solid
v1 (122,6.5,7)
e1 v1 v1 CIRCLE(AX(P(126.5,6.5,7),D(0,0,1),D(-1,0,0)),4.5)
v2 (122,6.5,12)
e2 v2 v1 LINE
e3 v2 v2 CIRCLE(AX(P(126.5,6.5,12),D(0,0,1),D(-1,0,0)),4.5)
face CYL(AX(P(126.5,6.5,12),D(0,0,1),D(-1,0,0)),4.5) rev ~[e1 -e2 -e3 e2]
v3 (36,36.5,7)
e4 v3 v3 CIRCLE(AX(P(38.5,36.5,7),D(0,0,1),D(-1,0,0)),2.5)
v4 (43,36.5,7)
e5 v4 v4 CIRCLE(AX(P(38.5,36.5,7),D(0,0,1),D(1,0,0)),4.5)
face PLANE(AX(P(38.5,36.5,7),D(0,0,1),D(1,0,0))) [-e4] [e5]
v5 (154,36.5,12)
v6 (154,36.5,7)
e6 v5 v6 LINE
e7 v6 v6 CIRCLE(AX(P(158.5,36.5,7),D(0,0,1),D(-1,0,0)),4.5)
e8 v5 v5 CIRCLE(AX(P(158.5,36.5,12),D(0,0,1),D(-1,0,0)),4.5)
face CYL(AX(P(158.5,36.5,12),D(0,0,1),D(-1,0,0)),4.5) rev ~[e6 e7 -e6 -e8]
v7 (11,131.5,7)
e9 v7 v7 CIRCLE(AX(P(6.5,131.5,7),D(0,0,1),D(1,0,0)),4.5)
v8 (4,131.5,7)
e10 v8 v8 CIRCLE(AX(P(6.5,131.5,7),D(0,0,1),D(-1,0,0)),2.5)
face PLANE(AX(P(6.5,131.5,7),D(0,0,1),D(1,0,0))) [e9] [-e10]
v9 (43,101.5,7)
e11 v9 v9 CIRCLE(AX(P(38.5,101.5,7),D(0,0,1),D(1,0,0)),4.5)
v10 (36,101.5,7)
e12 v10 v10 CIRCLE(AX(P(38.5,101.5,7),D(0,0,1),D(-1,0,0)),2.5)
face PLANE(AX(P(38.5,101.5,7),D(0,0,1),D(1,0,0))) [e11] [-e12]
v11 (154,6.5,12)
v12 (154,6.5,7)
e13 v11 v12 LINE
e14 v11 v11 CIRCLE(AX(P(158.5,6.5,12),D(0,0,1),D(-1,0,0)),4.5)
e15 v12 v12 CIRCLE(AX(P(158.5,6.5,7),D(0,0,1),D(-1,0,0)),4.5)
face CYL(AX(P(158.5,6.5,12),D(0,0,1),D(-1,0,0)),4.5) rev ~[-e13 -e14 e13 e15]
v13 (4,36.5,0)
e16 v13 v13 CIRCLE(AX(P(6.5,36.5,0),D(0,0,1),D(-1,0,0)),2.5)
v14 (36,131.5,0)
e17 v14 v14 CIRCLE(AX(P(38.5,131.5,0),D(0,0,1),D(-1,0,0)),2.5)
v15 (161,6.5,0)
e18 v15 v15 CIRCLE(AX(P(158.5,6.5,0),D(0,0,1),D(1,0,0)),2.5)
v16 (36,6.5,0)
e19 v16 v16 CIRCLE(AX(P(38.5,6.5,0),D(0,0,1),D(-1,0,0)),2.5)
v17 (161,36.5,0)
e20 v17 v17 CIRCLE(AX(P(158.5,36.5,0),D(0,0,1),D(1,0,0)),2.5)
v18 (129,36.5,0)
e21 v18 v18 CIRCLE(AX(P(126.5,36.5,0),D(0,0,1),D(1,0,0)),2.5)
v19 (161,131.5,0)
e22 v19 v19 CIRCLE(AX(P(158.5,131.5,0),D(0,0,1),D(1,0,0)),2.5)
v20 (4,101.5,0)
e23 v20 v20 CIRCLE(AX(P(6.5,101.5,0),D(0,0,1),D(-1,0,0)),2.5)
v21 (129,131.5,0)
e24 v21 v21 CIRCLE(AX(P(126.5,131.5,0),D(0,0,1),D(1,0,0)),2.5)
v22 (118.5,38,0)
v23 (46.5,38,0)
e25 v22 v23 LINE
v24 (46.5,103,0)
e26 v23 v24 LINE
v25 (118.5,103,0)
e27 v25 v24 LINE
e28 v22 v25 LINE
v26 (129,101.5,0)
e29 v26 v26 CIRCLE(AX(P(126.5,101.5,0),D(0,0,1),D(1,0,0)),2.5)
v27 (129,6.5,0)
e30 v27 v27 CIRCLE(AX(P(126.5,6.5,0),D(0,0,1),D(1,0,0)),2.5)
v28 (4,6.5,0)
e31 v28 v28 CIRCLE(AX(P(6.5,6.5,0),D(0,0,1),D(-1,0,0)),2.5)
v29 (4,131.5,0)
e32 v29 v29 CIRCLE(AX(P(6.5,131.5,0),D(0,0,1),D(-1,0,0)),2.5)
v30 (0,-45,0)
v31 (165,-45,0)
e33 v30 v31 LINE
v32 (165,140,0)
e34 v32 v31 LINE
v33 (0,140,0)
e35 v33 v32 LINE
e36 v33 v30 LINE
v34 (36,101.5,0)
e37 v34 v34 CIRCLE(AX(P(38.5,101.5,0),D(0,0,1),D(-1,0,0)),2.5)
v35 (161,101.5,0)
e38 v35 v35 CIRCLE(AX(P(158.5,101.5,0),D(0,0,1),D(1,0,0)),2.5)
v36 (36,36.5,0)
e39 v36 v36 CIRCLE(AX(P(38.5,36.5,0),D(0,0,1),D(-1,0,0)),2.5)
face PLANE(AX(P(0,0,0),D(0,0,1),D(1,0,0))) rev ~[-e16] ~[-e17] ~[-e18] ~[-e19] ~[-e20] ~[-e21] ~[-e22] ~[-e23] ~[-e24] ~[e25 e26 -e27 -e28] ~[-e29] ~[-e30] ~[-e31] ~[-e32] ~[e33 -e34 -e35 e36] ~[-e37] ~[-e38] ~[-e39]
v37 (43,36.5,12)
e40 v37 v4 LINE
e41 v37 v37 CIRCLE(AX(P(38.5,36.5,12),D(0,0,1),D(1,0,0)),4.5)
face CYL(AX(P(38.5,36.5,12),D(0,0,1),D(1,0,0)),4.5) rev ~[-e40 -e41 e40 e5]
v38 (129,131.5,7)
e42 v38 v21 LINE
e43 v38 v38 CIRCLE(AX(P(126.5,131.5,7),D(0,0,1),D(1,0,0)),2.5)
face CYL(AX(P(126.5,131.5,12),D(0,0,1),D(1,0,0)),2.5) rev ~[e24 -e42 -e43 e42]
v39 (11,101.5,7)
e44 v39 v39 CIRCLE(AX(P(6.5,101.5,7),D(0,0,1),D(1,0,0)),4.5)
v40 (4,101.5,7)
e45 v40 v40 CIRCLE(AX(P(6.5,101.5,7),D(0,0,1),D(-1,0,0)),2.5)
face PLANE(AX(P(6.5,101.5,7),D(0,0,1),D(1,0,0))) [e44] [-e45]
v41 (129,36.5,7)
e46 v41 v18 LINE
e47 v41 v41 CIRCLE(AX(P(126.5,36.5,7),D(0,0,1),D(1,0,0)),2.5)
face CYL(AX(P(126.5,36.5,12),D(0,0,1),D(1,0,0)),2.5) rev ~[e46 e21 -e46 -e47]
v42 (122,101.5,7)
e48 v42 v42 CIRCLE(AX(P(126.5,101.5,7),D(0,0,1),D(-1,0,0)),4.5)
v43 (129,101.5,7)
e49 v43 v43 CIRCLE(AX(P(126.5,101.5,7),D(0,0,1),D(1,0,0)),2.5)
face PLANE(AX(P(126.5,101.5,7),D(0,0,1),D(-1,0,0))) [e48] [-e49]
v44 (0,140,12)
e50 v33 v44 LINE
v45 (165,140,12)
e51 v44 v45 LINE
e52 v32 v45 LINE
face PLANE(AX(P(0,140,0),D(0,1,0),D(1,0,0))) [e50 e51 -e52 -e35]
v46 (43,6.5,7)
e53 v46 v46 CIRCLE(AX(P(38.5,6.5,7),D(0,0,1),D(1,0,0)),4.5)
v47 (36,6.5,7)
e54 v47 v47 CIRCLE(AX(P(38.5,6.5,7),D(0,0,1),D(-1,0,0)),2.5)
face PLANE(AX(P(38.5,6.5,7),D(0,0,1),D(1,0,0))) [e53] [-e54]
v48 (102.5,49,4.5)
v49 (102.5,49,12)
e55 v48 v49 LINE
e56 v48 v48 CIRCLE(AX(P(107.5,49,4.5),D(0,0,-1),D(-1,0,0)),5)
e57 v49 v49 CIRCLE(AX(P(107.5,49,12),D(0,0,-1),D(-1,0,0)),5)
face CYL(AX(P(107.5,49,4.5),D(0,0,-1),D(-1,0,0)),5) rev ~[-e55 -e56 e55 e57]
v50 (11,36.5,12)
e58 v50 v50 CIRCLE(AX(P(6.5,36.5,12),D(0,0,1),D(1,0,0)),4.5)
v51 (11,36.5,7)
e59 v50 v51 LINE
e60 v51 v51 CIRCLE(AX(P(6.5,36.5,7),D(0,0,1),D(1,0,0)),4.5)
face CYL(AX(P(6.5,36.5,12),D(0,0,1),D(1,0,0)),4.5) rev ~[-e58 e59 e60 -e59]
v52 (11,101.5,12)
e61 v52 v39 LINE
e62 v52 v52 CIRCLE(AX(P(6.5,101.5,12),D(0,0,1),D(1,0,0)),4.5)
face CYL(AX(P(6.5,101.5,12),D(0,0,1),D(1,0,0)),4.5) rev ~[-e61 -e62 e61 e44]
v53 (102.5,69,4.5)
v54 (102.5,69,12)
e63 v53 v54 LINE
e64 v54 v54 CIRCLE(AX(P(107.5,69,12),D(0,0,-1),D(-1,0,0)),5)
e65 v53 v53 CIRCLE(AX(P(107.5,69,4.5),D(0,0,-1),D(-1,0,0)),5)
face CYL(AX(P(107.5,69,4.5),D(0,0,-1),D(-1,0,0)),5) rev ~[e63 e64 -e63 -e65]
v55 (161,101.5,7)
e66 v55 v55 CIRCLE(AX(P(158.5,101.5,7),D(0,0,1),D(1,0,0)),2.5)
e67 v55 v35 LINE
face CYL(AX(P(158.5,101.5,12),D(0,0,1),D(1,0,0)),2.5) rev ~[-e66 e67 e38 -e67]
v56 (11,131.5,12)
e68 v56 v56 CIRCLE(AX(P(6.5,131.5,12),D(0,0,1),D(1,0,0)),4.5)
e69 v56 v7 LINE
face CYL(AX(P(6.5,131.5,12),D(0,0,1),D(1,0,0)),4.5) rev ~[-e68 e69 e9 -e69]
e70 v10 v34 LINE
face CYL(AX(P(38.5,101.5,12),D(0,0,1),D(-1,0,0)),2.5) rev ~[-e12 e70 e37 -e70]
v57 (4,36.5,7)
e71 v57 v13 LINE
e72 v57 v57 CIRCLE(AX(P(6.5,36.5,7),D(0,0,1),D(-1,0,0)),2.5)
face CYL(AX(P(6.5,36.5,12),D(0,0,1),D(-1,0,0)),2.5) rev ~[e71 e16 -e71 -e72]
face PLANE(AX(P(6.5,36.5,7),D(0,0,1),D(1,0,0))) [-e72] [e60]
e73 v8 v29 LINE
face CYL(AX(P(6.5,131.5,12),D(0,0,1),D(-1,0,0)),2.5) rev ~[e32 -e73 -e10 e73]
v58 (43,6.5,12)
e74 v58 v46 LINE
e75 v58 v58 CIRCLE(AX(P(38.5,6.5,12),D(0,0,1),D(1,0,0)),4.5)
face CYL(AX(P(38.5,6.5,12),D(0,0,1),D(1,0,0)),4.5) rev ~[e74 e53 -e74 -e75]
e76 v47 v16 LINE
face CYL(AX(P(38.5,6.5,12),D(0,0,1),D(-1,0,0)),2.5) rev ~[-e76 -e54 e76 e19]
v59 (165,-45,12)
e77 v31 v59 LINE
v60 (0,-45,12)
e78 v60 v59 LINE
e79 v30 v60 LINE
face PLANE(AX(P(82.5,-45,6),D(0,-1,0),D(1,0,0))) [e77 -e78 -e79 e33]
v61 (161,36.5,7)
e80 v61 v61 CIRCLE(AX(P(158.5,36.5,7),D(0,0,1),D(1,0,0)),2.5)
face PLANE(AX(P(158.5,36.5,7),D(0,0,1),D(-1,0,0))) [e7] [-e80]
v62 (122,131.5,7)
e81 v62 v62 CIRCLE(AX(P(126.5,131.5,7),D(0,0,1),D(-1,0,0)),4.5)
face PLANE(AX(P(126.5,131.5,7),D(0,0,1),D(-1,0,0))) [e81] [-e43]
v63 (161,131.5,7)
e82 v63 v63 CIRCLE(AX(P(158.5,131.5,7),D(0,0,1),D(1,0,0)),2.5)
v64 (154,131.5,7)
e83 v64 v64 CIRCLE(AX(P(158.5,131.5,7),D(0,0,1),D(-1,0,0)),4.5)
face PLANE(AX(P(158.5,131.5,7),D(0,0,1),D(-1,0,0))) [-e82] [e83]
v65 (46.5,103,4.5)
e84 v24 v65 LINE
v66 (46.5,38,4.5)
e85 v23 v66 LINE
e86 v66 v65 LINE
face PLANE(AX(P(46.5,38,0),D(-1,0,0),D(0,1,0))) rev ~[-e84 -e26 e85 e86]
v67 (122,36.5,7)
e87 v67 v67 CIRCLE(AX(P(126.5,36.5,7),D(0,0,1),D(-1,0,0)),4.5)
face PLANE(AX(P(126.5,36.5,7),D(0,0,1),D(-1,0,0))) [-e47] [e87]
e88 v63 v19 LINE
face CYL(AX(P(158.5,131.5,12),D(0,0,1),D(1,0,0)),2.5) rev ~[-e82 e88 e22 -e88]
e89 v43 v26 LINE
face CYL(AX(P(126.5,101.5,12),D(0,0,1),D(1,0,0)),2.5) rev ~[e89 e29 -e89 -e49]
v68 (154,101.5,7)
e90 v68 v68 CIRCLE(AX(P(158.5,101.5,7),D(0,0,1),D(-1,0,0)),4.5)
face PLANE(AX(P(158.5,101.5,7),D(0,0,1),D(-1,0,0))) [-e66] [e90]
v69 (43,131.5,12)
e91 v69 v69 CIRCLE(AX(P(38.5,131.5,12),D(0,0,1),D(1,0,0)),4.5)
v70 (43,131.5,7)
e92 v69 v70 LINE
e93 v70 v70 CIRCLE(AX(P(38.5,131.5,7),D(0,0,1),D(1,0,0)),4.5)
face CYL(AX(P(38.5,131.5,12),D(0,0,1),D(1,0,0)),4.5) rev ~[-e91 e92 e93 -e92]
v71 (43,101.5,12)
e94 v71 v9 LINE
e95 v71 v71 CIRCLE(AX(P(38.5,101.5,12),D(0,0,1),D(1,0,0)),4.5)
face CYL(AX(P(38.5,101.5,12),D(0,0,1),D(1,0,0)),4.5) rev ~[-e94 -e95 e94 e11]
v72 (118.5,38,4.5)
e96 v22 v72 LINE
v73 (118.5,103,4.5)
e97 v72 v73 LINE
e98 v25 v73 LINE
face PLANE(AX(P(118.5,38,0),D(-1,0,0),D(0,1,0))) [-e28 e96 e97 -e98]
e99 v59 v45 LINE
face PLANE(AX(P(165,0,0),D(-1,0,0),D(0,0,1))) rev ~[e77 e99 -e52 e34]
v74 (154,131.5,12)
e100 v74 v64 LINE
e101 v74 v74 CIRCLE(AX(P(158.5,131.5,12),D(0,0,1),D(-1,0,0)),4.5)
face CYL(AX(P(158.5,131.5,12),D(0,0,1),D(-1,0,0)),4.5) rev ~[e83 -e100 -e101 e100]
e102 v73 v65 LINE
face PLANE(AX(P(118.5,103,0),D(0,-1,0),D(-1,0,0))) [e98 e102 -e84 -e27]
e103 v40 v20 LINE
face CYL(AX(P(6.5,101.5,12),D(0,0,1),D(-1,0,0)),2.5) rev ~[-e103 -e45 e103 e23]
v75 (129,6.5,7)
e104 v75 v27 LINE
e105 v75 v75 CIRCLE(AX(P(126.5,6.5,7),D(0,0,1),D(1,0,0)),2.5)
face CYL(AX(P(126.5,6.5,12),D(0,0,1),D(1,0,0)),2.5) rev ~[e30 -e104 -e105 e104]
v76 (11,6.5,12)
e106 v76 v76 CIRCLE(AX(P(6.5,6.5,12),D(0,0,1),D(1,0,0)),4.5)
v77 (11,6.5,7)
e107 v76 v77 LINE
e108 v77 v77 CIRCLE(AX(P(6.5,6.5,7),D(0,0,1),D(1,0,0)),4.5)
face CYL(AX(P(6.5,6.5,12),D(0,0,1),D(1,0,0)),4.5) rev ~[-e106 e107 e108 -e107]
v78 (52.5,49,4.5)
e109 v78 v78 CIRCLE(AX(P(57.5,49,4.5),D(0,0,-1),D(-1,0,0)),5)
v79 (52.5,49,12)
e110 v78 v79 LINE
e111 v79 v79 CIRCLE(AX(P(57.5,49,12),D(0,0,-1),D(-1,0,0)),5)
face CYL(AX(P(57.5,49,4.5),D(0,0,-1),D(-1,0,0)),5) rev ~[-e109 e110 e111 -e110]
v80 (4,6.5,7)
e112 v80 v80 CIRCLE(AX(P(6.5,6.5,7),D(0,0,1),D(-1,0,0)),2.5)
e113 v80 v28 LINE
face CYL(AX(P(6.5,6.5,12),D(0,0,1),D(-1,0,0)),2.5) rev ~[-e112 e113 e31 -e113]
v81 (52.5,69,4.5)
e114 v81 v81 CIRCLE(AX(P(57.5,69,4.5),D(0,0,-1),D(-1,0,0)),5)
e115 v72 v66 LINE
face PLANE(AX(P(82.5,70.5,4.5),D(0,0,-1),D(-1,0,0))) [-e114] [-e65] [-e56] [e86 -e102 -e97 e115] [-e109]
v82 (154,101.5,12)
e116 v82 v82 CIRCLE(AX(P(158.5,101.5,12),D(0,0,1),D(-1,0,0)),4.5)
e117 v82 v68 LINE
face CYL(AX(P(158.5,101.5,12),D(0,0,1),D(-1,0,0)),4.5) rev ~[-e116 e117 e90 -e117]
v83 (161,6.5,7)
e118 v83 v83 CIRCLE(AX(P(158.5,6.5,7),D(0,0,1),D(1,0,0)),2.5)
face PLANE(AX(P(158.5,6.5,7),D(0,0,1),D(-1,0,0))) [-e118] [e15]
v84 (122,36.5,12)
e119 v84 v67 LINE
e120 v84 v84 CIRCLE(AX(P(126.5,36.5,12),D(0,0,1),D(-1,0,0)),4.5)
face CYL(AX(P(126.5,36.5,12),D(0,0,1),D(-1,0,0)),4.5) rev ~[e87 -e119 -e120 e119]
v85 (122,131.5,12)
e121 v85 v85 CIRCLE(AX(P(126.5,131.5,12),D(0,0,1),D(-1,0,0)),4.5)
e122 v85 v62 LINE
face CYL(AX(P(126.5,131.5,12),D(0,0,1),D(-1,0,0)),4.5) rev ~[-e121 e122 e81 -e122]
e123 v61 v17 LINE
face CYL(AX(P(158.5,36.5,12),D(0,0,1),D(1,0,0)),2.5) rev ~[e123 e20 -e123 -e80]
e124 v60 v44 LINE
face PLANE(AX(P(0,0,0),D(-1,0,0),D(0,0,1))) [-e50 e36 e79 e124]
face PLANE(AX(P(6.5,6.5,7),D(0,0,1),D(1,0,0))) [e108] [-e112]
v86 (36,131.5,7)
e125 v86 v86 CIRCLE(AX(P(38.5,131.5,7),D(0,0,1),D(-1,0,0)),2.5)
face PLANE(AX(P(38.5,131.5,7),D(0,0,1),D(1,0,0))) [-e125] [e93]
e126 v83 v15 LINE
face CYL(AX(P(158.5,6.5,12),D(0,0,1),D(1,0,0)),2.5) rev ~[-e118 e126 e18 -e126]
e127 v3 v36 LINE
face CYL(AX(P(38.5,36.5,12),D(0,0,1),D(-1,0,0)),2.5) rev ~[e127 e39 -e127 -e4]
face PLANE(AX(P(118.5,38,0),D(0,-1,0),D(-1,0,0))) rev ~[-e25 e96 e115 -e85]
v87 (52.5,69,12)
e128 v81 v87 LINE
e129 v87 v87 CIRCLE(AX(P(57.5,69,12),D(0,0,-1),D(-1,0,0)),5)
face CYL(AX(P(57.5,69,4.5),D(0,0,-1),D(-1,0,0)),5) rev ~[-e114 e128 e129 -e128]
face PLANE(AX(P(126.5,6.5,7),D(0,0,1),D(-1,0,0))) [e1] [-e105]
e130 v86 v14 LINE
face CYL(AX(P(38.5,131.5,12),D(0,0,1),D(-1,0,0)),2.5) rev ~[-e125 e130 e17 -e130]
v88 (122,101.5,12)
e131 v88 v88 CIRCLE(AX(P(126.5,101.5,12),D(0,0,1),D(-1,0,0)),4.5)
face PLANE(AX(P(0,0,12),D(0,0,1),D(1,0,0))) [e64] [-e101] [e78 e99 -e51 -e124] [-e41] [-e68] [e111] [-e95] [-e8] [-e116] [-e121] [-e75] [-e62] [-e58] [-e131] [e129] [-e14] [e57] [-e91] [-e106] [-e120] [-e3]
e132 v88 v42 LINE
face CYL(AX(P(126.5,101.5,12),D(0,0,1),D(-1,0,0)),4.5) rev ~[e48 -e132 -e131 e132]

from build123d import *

# Parameters (mm, degrees)
ESQUISSE1_W             = 165
ESQUISSE1_H             = 140
BOSS_EXTRU_1_DEPTH      = 12
ESQUISSE2_W             = 72
ESQUISSE2_H             = 65
ENL_V_MAT_EXTRU_1_DEPTH = 4.5
ENL_V_MAT_EXTRU_2_REACH = 218.723
ESQUISSE3_R             = 2.5
ESQUISSE4_R             = 4.5
ENL_V_MAT_EXTRU_3_DEPTH = 5
ESQUISSE5_W             = 165
ESQUISSE5_H             = 12
BOSS_EXTRU_2_DEPTH      = 45
ENL_V_MAT_EXTRU_4_REACH = 218.521
ESQUISSE6_R             = 5


with BuildPart() as part:
    # Esquisse1 → Boss.-Extru.1 (new body)
    with BuildSketch(Plane.XY):
        with Locations((82.5, 70)):
            Rectangle(ESQUISSE1_W, ESQUISSE1_H)
    extrude(amount=BOSS_EXTRU_1_DEPTH)

    # Esquisse2 → Enlèv. mat.-Extru.1 (cut)
    with BuildSketch(Plane(origin=(0, 0, 0), x_dir=(-1, 0, 0), z_dir=(0, 0, -1))):
        with Locations((-82.5, 70.5)):
            Rectangle(ESQUISSE2_W, ESQUISSE2_H)
    extrude(amount=-ENL_V_MAT_EXTRU_1_DEPTH, mode=Mode.SUBTRACT)

    # Esquisse3 → Enlèv. mat.-Extru.2 (cut, up to next)
    with BuildSketch(Plane.XY.offset(12), mode=Mode.PRIVATE) as enl_v_mat_extru_2_sk1:
        with Locations((158.5, 6.5)):
            Circle(ESQUISSE3_R)
    enl_v_mat_extru_2_tool1 = extrude(enl_v_mat_extru_2_sk1.sketch, amount=-ENL_V_MAT_EXTRU_2_REACH, mode=Mode.PRIVATE) & part.part
    # Esquisse3 → Enlèv. mat.-Extru.2 (cut, up to next)
    with BuildSketch(Plane.XY.offset(12), mode=Mode.PRIVATE) as enl_v_mat_extru_2_sk2:
        with Locations((158.5, 131.5)):
            Circle(ESQUISSE3_R)
    enl_v_mat_extru_2_tool2 = extrude(enl_v_mat_extru_2_sk2.sketch, amount=-ENL_V_MAT_EXTRU_2_REACH, mode=Mode.PRIVATE) & part.part
    # Esquisse3 → Enlèv. mat.-Extru.2 (cut, up to next)
    with BuildSketch(Plane.XY.offset(12), mode=Mode.PRIVATE) as enl_v_mat_extru_2_sk3:
        with Locations((126.5, 6.5)):
            Circle(ESQUISSE3_R)
    enl_v_mat_extru_2_tool3 = extrude(enl_v_mat_extru_2_sk3.sketch, amount=-ENL_V_MAT_EXTRU_2_REACH, mode=Mode.PRIVATE) & part.part
    # Esquisse3 → Enlèv. mat.-Extru.2 (cut, up to next)
    with BuildSketch(Plane.XY.offset(12), mode=Mode.PRIVATE) as enl_v_mat_extru_2_sk4:
        with Locations((126.5, 36.5)):
            Circle(ESQUISSE3_R)
    enl_v_mat_extru_2_tool4 = extrude(enl_v_mat_extru_2_sk4.sketch, amount=-ENL_V_MAT_EXTRU_2_REACH, mode=Mode.PRIVATE) & part.part
    # Esquisse3 → Enlèv. mat.-Extru.2 (cut, up to next)
    with BuildSketch(Plane.XY.offset(12), mode=Mode.PRIVATE) as enl_v_mat_extru_2_sk5:
        with Locations((158.5, 36.5)):
            Circle(ESQUISSE3_R)
    enl_v_mat_extru_2_tool5 = extrude(enl_v_mat_extru_2_sk5.sketch, amount=-ENL_V_MAT_EXTRU_2_REACH, mode=Mode.PRIVATE) & part.part
    # Esquisse3 → Enlèv. mat.-Extru.2 (cut, up to next)
    with BuildSketch(Plane.XY.offset(12), mode=Mode.PRIVATE) as enl_v_mat_extru_2_sk6:
        with Locations((126.5, 131.5)):
            Circle(ESQUISSE3_R)
    enl_v_mat_extru_2_tool6 = extrude(enl_v_mat_extru_2_sk6.sketch, amount=-ENL_V_MAT_EXTRU_2_REACH, mode=Mode.PRIVATE) & part.part
    # Esquisse3 → Enlèv. mat.-Extru.2 (cut, up to next)
    with BuildSketch(Plane.XY.offset(12), mode=Mode.PRIVATE) as enl_v_mat_extru_2_sk7:
        with Locations((126.5, 101.5)):
            Circle(ESQUISSE3_R)
    enl_v_mat_extru_2_tool7 = extrude(enl_v_mat_extru_2_sk7.sketch, amount=-ENL_V_MAT_EXTRU_2_REACH, mode=Mode.PRIVATE) & part.part
    # Esquisse3 → Enlèv. mat.-Extru.2 (cut, up to next)
    with BuildSketch(Plane.XY.offset(12), mode=Mode.PRIVATE) as enl_v_mat_extru_2_sk8:
        with Locations((158.5, 101.5)):
            Circle(ESQUISSE3_R)
    enl_v_mat_extru_2_tool8 = extrude(enl_v_mat_extru_2_sk8.sketch, amount=-ENL_V_MAT_EXTRU_2_REACH, mode=Mode.PRIVATE) & part.part
    # Esquisse3 → Enlèv. mat.-Extru.2 (cut, up to next)
    with BuildSketch(Plane.XY.offset(12), mode=Mode.PRIVATE) as enl_v_mat_extru_2_sk9:
        with Locations(Location((6.5, 6.5, 0), (0, 0, 180))):
            Circle(ESQUISSE3_R)
    enl_v_mat_extru_2_tool9 = extrude(enl_v_mat_extru_2_sk9.sketch, amount=-ENL_V_MAT_EXTRU_2_REACH, mode=Mode.PRIVATE) & part.part
    # Esquisse3 → Enlèv. mat.-Extru.2 (cut, up to next)
    with BuildSketch(Plane.XY.offset(12), mode=Mode.PRIVATE) as enl_v_mat_extru_2_sk10:
        with Locations(Location((6.5, 36.5, 0), (0, 0, 180))):
            Circle(ESQUISSE3_R)
    enl_v_mat_extru_2_tool10 = extrude(enl_v_mat_extru_2_sk10.sketch, amount=-ENL_V_MAT_EXTRU_2_REACH, mode=Mode.PRIVATE) & part.part
    # Esquisse3 → Enlèv. mat.-Extru.2 (cut, up to next)
    with BuildSketch(Plane.XY.offset(12), mode=Mode.PRIVATE) as enl_v_mat_extru_2_sk11:
        with Locations(Location((38.5, 6.5, 0), (0, 0, 180))):
            Circle(ESQUISSE3_R)
    enl_v_mat_extru_2_tool11 = extrude(enl_v_mat_extru_2_sk11.sketch, amount=-ENL_V_MAT_EXTRU_2_REACH, mode=Mode.PRIVATE) & part.part
    # Esquisse3 → Enlèv. mat.-Extru.2 (cut, up to next)
    with BuildSketch(Plane.XY.offset(12), mode=Mode.PRIVATE) as enl_v_mat_extru_2_sk12:
        with Locations(Location((38.5, 36.5, 0), (0, 0, 180))):
            Circle(ESQUISSE3_R)
    enl_v_mat_extru_2_tool12 = extrude(enl_v_mat_extru_2_sk12.sketch, amount=-ENL_V_MAT_EXTRU_2_REACH, mode=Mode.PRIVATE) & part.part
    # Esquisse3 → Enlèv. mat.-Extru.2 (cut, up to next)
    with BuildSketch(Plane.XY.offset(12), mode=Mode.PRIVATE) as enl_v_mat_extru_2_sk13:
        with Locations(Location((6.5, 101.5, 0), (0, 0, 180))):
            Circle(ESQUISSE3_R)
    enl_v_mat_extru_2_tool13 = extrude(enl_v_mat_extru_2_sk13.sketch, amount=-ENL_V_MAT_EXTRU_2_REACH, mode=Mode.PRIVATE) & part.part
    # Esquisse3 → Enlèv. mat.-Extru.2 (cut, up to next)
    with BuildSketch(Plane.XY.offset(12), mode=Mode.PRIVATE) as enl_v_mat_extru_2_sk14:
        with Locations(Location((38.5, 101.5, 0), (0, 0, 180))):
            Circle(ESQUISSE3_R)
    enl_v_mat_extru_2_tool14 = extrude(enl_v_mat_extru_2_sk14.sketch, amount=-ENL_V_MAT_EXTRU_2_REACH, mode=Mode.PRIVATE) & part.part
    # Esquisse3 → Enlèv. mat.-Extru.2 (cut, up to next)
    with BuildSketch(Plane.XY.offset(12), mode=Mode.PRIVATE) as enl_v_mat_extru_2_sk15:
        with Locations(Location((38.5, 131.5, 0), (0, 0, 180))):
            Circle(ESQUISSE3_R)
    enl_v_mat_extru_2_tool15 = extrude(enl_v_mat_extru_2_sk15.sketch, amount=-ENL_V_MAT_EXTRU_2_REACH, mode=Mode.PRIVATE) & part.part
    # Esquisse3 → Enlèv. mat.-Extru.2 (cut, up to next)
    with BuildSketch(Plane.XY.offset(12), mode=Mode.PRIVATE) as enl_v_mat_extru_2_sk16:
        with Locations(Location((6.5, 131.5, 0), (0, 0, 180))):
            Circle(ESQUISSE3_R)
    enl_v_mat_extru_2_tool16 = extrude(enl_v_mat_extru_2_sk16.sketch, amount=-ENL_V_MAT_EXTRU_2_REACH, mode=Mode.PRIVATE) & part.part
    add(enl_v_mat_extru_2_tool1.solids().sort_by_distance((158.5, 6.5, 12))[0], mode=Mode.SUBTRACT)
    add(enl_v_mat_extru_2_tool2.solids().sort_by_distance((158.5, 131.5, 12))[0], mode=Mode.SUBTRACT)
    add(enl_v_mat_extru_2_tool3.solids().sort_by_distance((126.5, 6.5, 12))[0], mode=Mode.SUBTRACT)
    add(enl_v_mat_extru_2_tool4.solids().sort_by_distance((126.5, 36.5, 12))[0], mode=Mode.SUBTRACT)
    add(enl_v_mat_extru_2_tool5.solids().sort_by_distance((158.5, 36.5, 12))[0], mode=Mode.SUBTRACT)
    add(enl_v_mat_extru_2_tool6.solids().sort_by_distance((126.5, 131.5, 12))[0], mode=Mode.SUBTRACT)
    add(enl_v_mat_extru_2_tool7.solids().sort_by_distance((126.5, 101.5, 12))[0], mode=Mode.SUBTRACT)
    add(enl_v_mat_extru_2_tool8.solids().sort_by_distance((158.5, 101.5, 12))[0], mode=Mode.SUBTRACT)
    add(enl_v_mat_extru_2_tool9.solids().sort_by_distance((6.5, 6.5, 12))[0], mode=Mode.SUBTRACT)
    add(enl_v_mat_extru_2_tool10.solids().sort_by_distance((6.5, 36.5, 12))[0], mode=Mode.SUBTRACT)
    add(enl_v_mat_extru_2_tool11.solids().sort_by_distance((38.5, 6.5, 12))[0], mode=Mode.SUBTRACT)
    add(enl_v_mat_extru_2_tool12.solids().sort_by_distance((38.5, 36.5, 12))[0], mode=Mode.SUBTRACT)
    add(enl_v_mat_extru_2_tool13.solids().sort_by_distance((6.5, 101.5, 12))[0], mode=Mode.SUBTRACT)
    add(enl_v_mat_extru_2_tool14.solids().sort_by_distance((38.5, 101.5, 12))[0], mode=Mode.SUBTRACT)
    add(enl_v_mat_extru_2_tool15.solids().sort_by_distance((38.5, 131.5, 12))[0], mode=Mode.SUBTRACT)
    add(enl_v_mat_extru_2_tool16.solids().sort_by_distance((6.5, 131.5, 12))[0], mode=Mode.SUBTRACT)

    # Esquisse4 → Enlèv. mat.-Extru.3 (cut)
    with BuildSketch(Plane.XY.offset(12)):
        with Locations((6.5, 131.5)):
            Circle(ESQUISSE4_R)
        with Locations((6.5, 101.5)):
            Circle(ESQUISSE4_R)
        with Locations((6.5, 36.5)):
            Circle(ESQUISSE4_R)
        with Locations((6.5, 6.5)):
            Circle(ESQUISSE4_R)
        with Locations((38.5, 6.5)):
            Circle(ESQUISSE4_R)
        with Locations((38.5, 36.5)):
            Circle(ESQUISSE4_R)
        with Locations((38.5, 101.5)):
            Circle(ESQUISSE4_R)
        with Locations((38.5, 131.5)):
            Circle(ESQUISSE4_R)
        with Locations(Location((158.5, 101.5, 0), (0, 0, 180))):
            Circle(ESQUISSE4_R)
        with Locations(Location((158.5, 131.5, 0), (0, 0, 180))):
            Circle(ESQUISSE4_R)
        with Locations(Location((126.5, 131.5, 0), (0, 0, 180))):
            Circle(ESQUISSE4_R)
        with Locations(Location((126.5, 101.5, 0), (0, 0, 180))):
            Circle(ESQUISSE4_R)
        with Locations(Location((126.5, 6.5, 0), (0, 0, 180))):
            Circle(ESQUISSE4_R)
        with Locations(Location((158.5, 6.5, 0), (0, 0, 180))):
            Circle(ESQUISSE4_R)
        with Locations(Location((158.5, 36.5, 0), (0, 0, 180))):
            Circle(ESQUISSE4_R)
        with Locations(Location((126.5, 36.5, 0), (0, 0, 180))):
            Circle(ESQUISSE4_R)
    extrude(amount=-ENL_V_MAT_EXTRU_3_DEPTH, mode=Mode.SUBTRACT)

    # Esquisse5 → Boss.-Extru.2 (add)
    with BuildSketch(Plane.XZ):
        with Locations((82.5, 6)):
            Rectangle(ESQUISSE5_W, ESQUISSE5_H)
    extrude(amount=BOSS_EXTRU_2_DEPTH)

    # Esquisse6 → Enlèv. mat.-Extru.4 (cut, up to next)
    with BuildSketch(Plane(origin=(0, 0, 4.5), x_dir=(-1, 0, 0), z_dir=(0, 0, -1)), mode=Mode.PRIVATE) as enl_v_mat_extru_4_sk1:
        with Locations((-57.5, 49)):
            Circle(ESQUISSE6_R)
    enl_v_mat_extru_4_tool1 = extrude(enl_v_mat_extru_4_sk1.sketch, amount=-ENL_V_MAT_EXTRU_4_REACH, mode=Mode.PRIVATE) & part.part
    # Esquisse6 → Enlèv. mat.-Extru.4 (cut, up to next)
    with BuildSketch(Plane(origin=(0, 0, 4.5), x_dir=(-1, 0, 0), z_dir=(0, 0, -1)), mode=Mode.PRIVATE) as enl_v_mat_extru_4_sk2:
        with Locations((-57.5, 69)):
            Circle(ESQUISSE6_R)
    enl_v_mat_extru_4_tool2 = extrude(enl_v_mat_extru_4_sk2.sketch, amount=-ENL_V_MAT_EXTRU_4_REACH, mode=Mode.PRIVATE) & part.part
    # Esquisse6 → Enlèv. mat.-Extru.4 (cut, up to next)
    with BuildSketch(Plane(origin=(0, 0, 4.5), x_dir=(-1, 0, 0), z_dir=(0, 0, -1)), mode=Mode.PRIVATE) as enl_v_mat_extru_4_sk3:
        with Locations((-107.5, 49)):
            Circle(ESQUISSE6_R)
    enl_v_mat_extru_4_tool3 = extrude(enl_v_mat_extru_4_sk3.sketch, amount=-ENL_V_MAT_EXTRU_4_REACH, mode=Mode.PRIVATE) & part.part
    # Esquisse6 → Enlèv. mat.-Extru.4 (cut, up to next)
    with BuildSketch(Plane(origin=(0, 0, 4.5), x_dir=(-1, 0, 0), z_dir=(0, 0, -1)), mode=Mode.PRIVATE) as enl_v_mat_extru_4_sk4:
        with Locations((-107.5, 69)):
            Circle(ESQUISSE6_R)
    enl_v_mat_extru_4_tool4 = extrude(enl_v_mat_extru_4_sk4.sketch, amount=-ENL_V_MAT_EXTRU_4_REACH, mode=Mode.PRIVATE) & part.part
    add(enl_v_mat_extru_4_tool1.solids().sort_by_distance((57.5, 49, 4.5))[0], mode=Mode.SUBTRACT)
    add(enl_v_mat_extru_4_tool2.solids().sort_by_distance((57.5, 69, 4.5))[0], mode=Mode.SUBTRACT)
    add(enl_v_mat_extru_4_tool3.solids().sort_by_distance((107.5, 49, 4.5))[0], mode=Mode.SUBTRACT)
    add(enl_v_mat_extru_4_tool4.solids().sort_by_distance((107.5, 69, 4.5))[0], mode=Mode.SUBTRACT)


solid = part.part
